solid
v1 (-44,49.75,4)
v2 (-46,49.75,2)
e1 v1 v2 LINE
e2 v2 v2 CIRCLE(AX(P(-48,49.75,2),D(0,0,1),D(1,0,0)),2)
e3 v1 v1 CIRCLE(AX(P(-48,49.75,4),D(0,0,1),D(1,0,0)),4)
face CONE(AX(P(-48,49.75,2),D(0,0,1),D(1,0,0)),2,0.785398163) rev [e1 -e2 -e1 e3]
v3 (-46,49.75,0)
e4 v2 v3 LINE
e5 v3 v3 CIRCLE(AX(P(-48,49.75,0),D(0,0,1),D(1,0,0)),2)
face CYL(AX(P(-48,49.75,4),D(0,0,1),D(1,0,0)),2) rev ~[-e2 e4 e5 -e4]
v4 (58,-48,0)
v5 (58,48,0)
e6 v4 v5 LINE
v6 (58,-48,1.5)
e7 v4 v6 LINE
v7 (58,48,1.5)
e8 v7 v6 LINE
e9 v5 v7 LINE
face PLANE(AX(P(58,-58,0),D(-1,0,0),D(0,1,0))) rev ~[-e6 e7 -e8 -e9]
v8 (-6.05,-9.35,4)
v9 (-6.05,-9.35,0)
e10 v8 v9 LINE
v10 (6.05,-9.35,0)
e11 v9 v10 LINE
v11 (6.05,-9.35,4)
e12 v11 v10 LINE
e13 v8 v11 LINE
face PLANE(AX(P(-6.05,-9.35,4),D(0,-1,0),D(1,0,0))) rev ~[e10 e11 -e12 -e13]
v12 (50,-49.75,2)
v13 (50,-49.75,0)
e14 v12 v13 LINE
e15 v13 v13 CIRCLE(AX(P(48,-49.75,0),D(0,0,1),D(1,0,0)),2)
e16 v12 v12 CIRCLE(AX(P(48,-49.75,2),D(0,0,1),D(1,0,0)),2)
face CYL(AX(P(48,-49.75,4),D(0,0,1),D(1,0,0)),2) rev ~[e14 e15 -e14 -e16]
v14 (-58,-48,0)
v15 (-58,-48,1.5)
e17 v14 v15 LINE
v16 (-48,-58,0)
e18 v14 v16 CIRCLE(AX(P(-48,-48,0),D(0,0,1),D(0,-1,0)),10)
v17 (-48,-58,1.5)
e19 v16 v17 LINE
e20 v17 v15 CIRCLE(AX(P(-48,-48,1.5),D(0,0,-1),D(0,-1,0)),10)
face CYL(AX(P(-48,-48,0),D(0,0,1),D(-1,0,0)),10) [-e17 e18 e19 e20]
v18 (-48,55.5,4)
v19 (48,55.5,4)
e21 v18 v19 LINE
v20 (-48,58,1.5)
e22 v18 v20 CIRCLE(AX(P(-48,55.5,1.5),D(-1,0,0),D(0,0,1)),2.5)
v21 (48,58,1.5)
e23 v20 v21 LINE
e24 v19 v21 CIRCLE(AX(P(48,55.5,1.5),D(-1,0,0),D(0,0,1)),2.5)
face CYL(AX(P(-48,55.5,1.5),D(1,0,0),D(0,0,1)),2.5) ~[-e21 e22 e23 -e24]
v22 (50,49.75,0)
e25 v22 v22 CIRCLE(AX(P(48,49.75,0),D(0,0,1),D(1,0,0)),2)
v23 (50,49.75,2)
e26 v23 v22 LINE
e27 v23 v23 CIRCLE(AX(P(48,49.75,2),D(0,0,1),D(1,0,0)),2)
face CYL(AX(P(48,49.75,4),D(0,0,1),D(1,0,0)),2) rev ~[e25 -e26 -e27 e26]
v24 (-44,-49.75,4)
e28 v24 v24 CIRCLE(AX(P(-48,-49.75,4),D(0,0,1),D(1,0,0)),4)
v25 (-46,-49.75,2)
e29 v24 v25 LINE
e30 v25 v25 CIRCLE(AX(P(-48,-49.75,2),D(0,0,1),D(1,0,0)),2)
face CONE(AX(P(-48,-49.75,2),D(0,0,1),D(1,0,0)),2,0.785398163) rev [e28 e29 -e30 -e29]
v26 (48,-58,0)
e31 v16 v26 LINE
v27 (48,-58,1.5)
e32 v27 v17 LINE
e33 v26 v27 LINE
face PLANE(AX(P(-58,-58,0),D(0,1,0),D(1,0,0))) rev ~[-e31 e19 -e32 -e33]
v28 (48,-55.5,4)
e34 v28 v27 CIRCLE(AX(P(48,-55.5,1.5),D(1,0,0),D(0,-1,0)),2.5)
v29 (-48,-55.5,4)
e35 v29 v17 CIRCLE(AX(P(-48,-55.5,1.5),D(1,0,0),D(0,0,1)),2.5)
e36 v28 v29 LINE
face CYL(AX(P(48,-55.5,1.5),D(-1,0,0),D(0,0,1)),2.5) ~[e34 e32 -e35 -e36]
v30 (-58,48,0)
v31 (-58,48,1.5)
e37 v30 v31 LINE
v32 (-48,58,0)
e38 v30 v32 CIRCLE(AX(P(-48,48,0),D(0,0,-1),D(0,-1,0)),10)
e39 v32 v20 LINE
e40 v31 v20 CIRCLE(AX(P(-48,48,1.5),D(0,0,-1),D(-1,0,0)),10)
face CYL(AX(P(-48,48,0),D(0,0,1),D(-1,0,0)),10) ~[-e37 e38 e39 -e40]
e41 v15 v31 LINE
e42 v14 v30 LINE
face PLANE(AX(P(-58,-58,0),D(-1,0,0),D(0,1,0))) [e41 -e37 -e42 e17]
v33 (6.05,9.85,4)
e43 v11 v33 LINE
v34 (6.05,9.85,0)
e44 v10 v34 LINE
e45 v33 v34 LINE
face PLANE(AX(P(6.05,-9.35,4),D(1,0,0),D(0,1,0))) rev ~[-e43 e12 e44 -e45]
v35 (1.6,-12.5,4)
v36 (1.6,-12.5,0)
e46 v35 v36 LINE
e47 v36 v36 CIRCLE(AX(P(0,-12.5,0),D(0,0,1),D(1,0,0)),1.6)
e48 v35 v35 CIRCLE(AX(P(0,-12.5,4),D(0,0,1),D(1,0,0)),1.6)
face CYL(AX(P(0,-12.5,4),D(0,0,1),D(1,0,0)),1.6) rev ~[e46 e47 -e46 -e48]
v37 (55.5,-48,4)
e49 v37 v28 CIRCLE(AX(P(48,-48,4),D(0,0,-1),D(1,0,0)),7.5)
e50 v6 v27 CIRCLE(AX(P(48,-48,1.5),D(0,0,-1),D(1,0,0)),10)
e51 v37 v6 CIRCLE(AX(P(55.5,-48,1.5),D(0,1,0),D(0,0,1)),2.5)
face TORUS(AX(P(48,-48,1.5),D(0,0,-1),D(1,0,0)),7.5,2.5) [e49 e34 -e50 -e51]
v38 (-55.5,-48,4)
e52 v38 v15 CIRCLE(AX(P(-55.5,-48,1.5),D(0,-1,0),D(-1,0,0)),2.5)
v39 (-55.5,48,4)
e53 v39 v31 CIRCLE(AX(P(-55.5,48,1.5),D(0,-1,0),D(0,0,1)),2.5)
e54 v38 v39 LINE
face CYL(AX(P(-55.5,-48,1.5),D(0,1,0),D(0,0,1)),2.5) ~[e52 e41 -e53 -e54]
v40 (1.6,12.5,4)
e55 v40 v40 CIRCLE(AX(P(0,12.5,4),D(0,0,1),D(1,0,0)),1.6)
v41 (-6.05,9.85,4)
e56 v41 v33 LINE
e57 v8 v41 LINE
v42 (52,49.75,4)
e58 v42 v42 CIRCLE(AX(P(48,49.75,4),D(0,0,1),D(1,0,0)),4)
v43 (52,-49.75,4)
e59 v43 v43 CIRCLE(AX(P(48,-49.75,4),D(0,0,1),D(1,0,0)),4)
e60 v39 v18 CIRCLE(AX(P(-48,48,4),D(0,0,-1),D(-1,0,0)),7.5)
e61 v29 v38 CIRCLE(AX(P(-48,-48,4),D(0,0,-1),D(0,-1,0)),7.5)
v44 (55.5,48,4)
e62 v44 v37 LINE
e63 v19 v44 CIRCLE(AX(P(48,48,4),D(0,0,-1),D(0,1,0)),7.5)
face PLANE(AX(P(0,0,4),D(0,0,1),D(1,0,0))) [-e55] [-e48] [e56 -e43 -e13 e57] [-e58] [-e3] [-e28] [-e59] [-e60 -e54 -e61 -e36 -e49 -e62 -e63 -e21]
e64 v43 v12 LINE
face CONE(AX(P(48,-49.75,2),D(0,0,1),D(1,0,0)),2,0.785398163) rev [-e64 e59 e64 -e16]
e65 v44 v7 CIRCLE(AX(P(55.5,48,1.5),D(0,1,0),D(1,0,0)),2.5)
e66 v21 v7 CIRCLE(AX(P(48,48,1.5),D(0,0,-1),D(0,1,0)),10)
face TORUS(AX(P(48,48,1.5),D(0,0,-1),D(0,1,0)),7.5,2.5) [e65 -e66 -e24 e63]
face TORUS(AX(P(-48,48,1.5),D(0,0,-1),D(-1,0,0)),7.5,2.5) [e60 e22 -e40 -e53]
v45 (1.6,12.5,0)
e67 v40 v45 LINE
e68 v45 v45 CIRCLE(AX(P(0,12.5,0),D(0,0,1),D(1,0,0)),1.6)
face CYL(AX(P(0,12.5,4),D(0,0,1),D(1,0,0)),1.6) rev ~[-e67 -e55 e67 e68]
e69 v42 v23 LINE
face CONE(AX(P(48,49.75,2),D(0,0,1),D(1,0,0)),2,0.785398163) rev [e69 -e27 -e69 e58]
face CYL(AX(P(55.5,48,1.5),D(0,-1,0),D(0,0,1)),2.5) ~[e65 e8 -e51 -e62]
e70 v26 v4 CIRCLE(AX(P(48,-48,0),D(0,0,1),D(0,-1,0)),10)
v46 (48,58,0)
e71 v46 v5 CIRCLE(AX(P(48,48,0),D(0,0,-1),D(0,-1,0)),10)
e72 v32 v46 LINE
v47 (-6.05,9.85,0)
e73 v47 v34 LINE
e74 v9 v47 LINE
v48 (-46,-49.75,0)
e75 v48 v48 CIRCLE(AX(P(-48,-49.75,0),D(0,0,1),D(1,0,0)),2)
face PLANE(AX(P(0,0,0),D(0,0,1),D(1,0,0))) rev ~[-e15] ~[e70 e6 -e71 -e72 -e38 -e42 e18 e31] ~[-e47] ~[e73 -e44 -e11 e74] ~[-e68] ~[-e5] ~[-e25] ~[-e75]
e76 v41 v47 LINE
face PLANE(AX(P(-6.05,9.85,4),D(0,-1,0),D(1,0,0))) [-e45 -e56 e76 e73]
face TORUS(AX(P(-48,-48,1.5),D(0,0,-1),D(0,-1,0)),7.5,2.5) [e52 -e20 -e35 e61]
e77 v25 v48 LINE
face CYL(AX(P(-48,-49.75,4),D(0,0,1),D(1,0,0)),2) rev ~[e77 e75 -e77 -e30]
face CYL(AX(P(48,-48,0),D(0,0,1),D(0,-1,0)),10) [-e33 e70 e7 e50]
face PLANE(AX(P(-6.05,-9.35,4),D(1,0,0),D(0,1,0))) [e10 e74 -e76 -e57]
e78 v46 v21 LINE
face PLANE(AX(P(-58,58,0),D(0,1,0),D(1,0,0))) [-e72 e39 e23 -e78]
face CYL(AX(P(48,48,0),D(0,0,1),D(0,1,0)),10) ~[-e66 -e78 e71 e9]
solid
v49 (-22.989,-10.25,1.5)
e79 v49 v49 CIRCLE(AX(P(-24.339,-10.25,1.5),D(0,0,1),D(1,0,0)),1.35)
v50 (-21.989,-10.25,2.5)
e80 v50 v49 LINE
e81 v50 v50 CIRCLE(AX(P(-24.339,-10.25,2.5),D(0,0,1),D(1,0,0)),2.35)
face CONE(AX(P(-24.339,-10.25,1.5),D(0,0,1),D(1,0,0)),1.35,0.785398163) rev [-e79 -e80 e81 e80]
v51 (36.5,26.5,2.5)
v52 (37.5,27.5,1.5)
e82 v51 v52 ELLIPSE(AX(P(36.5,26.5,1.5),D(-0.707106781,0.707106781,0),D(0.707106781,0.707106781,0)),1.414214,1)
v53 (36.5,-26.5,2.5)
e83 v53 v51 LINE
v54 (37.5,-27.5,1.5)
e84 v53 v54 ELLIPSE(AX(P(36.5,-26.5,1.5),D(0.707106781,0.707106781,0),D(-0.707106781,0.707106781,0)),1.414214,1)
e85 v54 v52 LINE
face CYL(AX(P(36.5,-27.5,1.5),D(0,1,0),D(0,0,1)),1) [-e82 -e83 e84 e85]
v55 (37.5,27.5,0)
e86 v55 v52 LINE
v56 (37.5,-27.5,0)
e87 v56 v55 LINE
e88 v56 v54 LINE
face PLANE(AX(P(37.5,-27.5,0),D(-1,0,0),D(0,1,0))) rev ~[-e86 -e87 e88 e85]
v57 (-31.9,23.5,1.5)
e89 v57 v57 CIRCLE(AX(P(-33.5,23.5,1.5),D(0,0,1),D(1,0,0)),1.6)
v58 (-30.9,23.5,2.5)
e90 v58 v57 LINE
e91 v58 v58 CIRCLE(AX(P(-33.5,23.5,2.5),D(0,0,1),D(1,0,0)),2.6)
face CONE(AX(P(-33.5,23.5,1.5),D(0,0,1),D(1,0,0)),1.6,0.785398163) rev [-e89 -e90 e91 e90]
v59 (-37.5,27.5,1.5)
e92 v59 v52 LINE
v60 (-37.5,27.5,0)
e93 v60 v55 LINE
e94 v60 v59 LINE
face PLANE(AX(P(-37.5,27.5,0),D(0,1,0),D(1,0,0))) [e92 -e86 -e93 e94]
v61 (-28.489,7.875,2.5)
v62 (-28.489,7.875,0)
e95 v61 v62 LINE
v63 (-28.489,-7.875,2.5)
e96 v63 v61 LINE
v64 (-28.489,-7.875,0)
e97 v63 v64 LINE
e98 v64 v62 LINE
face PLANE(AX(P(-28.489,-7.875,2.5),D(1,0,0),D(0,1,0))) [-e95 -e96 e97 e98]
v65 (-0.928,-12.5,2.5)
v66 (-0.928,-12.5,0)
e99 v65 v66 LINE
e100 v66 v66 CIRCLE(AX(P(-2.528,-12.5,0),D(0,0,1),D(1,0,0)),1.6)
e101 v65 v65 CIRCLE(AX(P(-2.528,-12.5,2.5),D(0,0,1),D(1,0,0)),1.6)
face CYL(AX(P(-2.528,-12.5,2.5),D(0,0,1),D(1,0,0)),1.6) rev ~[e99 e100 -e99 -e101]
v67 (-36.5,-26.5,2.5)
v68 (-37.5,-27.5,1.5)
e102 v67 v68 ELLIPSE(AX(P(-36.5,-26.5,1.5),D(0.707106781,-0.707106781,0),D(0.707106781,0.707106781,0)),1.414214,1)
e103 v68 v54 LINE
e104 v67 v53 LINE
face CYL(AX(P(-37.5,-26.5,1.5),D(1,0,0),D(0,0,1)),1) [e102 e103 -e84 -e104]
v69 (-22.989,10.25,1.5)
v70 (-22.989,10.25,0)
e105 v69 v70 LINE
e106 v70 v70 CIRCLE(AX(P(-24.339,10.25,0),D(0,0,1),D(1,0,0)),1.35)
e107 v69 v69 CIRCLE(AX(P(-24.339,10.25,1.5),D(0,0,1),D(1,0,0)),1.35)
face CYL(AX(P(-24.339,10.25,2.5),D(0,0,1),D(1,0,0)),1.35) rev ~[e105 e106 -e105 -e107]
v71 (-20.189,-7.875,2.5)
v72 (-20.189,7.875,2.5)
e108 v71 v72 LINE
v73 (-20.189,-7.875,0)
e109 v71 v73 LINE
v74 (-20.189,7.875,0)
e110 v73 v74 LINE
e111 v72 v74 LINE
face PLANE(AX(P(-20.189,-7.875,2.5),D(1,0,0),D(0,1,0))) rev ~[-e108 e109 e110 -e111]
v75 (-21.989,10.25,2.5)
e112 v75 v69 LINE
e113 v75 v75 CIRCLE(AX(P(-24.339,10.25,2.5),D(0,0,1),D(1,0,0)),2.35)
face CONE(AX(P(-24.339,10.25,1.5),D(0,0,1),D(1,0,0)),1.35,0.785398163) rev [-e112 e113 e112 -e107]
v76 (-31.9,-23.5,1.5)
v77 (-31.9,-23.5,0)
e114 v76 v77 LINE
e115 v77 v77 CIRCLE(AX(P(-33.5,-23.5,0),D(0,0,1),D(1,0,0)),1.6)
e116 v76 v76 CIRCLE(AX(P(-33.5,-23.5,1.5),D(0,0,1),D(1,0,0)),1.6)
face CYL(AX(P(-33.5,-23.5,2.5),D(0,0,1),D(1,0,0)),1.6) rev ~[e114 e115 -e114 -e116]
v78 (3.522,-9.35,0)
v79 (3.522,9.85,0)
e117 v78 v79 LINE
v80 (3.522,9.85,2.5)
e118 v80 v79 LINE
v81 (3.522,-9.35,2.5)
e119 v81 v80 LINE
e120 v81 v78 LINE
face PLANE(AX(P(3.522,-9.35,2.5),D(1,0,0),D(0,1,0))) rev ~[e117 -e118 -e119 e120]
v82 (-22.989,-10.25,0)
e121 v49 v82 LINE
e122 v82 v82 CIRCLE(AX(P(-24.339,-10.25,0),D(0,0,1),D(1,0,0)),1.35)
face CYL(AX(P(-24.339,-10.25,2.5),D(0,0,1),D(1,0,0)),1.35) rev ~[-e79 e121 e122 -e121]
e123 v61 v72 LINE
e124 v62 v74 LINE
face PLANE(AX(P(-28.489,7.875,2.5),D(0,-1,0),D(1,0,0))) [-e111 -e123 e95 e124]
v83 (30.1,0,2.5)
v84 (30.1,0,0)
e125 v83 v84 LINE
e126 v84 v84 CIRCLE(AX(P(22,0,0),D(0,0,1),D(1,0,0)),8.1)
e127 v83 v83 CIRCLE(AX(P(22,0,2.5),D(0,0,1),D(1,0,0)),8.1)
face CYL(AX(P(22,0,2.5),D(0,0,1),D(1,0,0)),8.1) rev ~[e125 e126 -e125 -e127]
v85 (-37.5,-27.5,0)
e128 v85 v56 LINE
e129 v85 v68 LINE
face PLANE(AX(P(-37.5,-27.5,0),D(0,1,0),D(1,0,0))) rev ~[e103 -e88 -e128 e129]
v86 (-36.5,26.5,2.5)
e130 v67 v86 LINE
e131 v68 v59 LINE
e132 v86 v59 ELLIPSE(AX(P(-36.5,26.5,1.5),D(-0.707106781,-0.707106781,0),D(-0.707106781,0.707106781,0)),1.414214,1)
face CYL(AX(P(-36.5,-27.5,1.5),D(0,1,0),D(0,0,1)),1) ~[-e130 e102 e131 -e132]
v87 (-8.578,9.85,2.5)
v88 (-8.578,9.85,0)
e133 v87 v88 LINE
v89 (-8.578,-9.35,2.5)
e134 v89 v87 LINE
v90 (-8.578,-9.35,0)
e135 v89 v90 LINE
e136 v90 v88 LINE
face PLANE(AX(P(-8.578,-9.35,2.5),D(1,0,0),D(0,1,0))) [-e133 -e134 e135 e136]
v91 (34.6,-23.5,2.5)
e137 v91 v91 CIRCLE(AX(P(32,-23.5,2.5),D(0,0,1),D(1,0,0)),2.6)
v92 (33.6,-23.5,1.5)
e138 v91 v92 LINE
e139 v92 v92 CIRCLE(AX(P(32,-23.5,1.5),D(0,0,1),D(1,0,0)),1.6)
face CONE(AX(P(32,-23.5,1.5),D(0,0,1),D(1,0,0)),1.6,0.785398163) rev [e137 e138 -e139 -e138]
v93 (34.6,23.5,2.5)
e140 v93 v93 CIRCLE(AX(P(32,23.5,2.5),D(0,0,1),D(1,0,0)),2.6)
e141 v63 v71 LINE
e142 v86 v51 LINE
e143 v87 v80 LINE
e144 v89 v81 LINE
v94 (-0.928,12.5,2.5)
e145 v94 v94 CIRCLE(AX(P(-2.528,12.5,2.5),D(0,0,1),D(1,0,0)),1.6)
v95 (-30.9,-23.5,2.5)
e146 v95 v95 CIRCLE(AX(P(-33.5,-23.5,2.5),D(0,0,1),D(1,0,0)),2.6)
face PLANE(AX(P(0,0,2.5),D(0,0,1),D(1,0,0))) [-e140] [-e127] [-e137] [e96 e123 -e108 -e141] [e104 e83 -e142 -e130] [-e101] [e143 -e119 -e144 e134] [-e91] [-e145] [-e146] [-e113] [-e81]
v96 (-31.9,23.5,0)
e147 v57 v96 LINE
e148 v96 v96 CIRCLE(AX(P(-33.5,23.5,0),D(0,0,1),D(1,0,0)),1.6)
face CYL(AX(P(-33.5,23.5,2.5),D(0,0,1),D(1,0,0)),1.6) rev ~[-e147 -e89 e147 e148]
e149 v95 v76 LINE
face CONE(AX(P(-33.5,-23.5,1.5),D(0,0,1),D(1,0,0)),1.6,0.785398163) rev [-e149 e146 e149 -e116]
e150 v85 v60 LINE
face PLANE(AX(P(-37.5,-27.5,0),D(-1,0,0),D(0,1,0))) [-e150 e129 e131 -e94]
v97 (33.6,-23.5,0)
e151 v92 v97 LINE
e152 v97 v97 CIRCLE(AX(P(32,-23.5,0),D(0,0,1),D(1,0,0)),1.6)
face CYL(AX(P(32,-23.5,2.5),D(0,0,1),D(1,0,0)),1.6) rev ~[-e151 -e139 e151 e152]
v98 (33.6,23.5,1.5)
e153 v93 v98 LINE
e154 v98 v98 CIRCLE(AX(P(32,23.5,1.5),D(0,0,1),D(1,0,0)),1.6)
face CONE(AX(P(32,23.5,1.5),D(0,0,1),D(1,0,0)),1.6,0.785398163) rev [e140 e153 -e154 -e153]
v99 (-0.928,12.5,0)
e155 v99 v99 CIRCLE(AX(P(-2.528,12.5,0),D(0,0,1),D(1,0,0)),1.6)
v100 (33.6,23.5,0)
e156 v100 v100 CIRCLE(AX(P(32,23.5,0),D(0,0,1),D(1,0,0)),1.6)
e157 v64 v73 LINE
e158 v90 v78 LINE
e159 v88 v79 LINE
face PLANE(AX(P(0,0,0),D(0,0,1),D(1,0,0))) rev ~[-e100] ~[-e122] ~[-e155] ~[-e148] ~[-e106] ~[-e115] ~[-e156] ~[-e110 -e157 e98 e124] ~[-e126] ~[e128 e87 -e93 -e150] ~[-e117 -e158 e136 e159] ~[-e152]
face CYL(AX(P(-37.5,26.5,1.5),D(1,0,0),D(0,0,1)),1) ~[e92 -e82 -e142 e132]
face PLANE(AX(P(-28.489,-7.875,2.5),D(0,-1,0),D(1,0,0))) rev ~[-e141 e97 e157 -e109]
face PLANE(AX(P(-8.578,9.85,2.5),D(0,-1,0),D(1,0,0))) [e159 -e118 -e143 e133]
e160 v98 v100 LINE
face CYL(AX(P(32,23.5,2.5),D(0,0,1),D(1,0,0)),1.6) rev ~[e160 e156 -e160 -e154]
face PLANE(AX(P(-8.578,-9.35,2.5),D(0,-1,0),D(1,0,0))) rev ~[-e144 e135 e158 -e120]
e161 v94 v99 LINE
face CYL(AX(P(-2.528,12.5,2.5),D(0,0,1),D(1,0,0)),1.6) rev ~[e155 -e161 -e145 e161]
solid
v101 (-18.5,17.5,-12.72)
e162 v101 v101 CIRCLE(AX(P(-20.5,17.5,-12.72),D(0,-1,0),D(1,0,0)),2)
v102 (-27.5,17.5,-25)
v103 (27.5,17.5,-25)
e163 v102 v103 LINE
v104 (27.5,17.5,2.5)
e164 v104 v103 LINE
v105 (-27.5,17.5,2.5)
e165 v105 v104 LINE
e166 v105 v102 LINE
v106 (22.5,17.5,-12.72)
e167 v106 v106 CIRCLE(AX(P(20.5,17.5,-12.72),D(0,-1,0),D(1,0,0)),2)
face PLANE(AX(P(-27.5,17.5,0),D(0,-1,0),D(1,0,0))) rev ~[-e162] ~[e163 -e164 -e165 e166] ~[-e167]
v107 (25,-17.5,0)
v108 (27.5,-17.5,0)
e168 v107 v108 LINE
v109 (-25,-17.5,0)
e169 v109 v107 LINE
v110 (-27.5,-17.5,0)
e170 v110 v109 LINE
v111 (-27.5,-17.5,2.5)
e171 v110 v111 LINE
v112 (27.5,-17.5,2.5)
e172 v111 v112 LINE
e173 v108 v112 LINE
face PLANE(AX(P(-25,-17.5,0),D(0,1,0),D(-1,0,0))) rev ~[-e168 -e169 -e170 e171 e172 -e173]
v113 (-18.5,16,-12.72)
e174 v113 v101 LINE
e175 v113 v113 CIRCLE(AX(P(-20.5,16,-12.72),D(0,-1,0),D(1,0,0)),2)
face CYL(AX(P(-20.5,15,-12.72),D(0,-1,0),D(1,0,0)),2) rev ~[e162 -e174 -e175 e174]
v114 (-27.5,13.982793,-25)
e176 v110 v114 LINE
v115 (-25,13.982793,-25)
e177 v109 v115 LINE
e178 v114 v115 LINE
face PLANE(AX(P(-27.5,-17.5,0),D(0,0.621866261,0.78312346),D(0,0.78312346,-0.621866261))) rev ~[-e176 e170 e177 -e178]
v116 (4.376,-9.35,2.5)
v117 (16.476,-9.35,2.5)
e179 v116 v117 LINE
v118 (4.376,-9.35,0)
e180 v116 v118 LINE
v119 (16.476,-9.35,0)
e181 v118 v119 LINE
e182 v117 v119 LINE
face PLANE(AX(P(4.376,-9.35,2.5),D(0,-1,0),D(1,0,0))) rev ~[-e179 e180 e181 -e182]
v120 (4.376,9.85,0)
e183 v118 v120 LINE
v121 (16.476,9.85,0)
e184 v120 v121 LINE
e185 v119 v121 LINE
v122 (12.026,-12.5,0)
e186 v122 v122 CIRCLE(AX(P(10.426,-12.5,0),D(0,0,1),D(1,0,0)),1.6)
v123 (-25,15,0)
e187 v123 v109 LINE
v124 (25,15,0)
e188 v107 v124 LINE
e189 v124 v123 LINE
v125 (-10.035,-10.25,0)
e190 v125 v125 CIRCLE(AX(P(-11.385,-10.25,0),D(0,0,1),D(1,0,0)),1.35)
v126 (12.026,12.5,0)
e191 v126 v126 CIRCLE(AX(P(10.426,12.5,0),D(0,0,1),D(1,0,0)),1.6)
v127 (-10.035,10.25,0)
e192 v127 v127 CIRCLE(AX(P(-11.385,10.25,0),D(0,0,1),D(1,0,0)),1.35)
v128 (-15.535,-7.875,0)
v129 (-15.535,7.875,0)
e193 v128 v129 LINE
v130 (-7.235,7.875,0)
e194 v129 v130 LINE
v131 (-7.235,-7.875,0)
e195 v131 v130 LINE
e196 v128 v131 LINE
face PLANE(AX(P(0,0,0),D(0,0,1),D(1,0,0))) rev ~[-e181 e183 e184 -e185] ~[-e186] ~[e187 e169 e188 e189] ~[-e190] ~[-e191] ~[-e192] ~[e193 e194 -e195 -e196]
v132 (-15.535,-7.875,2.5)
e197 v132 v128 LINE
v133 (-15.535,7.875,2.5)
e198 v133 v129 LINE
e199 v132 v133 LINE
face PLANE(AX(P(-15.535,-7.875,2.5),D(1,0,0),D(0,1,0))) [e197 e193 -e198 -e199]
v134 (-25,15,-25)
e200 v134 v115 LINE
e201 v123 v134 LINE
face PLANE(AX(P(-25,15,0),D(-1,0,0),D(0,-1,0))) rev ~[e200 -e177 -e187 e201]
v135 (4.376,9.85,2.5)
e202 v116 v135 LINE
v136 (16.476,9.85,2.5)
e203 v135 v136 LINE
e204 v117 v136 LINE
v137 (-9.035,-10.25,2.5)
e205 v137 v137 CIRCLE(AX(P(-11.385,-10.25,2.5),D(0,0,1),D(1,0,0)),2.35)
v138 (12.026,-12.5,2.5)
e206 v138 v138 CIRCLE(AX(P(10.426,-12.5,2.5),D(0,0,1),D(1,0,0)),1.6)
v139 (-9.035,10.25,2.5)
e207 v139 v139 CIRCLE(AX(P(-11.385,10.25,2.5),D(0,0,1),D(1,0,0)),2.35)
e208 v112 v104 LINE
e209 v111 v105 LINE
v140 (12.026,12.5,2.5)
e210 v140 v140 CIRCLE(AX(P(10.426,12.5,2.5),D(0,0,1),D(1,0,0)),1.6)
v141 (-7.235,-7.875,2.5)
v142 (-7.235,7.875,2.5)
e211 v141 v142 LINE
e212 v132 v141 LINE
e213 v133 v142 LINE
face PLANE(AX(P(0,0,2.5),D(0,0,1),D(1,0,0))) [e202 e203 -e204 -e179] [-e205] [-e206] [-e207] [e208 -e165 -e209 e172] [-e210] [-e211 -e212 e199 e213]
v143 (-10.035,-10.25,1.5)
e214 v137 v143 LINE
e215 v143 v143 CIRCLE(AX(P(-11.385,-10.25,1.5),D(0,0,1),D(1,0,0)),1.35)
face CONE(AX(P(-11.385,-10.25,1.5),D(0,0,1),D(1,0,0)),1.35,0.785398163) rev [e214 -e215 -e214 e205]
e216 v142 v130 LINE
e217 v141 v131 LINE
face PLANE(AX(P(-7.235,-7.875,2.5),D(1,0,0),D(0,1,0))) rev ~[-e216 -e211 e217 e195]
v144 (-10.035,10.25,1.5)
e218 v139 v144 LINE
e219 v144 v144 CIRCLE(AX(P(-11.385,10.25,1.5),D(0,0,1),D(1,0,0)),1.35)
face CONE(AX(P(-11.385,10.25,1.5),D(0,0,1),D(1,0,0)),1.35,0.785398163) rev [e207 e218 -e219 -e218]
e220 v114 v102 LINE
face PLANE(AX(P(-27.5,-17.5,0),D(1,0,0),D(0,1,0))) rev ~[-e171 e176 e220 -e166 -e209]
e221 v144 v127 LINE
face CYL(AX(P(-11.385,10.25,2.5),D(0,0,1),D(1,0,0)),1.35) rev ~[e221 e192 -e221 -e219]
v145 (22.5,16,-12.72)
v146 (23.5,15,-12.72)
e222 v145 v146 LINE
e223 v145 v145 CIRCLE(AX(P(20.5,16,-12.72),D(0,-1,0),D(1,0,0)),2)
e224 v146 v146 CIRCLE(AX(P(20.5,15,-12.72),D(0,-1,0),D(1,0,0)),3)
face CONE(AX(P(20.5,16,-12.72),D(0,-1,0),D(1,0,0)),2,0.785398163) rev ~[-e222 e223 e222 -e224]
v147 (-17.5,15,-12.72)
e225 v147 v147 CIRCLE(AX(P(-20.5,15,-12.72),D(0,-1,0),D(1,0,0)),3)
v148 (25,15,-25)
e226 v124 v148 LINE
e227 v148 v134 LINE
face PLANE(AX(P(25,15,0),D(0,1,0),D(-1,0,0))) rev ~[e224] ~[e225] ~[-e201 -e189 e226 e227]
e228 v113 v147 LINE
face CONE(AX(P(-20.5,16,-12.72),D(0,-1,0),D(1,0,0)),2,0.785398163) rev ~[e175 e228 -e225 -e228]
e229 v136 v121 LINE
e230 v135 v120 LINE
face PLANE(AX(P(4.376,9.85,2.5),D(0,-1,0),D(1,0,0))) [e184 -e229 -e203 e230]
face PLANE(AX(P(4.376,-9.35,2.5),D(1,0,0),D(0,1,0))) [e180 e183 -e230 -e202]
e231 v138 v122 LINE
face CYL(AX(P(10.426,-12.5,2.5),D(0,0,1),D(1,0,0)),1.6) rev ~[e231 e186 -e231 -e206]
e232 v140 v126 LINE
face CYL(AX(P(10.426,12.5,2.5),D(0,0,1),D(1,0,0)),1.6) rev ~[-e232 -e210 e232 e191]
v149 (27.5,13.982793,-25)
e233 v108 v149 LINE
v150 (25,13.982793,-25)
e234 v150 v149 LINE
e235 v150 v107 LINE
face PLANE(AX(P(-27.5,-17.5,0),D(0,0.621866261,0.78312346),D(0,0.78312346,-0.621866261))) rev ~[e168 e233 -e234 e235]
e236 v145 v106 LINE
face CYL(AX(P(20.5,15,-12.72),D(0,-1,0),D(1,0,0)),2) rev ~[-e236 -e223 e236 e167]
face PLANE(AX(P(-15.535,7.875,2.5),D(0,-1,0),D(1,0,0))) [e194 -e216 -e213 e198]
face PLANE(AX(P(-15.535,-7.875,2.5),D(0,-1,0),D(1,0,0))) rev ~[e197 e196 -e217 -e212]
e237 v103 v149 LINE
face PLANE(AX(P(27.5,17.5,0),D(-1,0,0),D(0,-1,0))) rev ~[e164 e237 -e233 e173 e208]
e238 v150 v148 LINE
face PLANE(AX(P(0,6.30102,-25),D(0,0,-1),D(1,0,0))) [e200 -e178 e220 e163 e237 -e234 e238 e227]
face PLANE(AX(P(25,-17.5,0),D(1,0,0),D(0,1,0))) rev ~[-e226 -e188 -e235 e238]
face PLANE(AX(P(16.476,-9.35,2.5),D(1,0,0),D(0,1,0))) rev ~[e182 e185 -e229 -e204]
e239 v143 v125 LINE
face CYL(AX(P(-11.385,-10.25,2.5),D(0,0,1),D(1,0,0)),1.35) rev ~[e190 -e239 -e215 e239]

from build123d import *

# Parameters (mm, degrees)
SKETCH_W        = 75
SKETCH_H        = 55
PAD_DEPTH       = 2.5
SKETCH001_R     = 8.1
SKETCH001_R_2   = 1.6
SKETCH001_R_3   = 1.35
SKETCH001_W     = 12.1
SKETCH001_H     = 19.2
SKETCH001_W_2   = 8.3
SKETCH001_H_2   = 15.75
POCKET_DEPTH    = 2.501
CHAMFER_SIZE    = 1
FILLET_R        = 1
SKETCH003_W     = 55
SKETCH003_H     = 35
PAD001_DEPTH    = 2.5
SKETCH002_R     = 1.6
SKETCH002_R_2   = 1.35
SKETCH002_W     = 12.1
SKETCH002_H     = 19.2
SKETCH002_W_2   = 8.3
SKETCH002_H_2   = 15.75
POCKET001_DEPTH = 2.501
CHAMFER001_SIZE = 1
PAD002_DEPTH    = 25
POCKET002_DEPTH = 55.001
SKETCH006_R     = 2
POCKET003_DEPTH = 2.501
CHAMFER002_SIZE = 1
SKETCH007_W     = 116
SKETCH007_H     = 116
PAD003_DEPTH    = 4
SKETCH008_R     = 1.6
SKETCH008_R_2   = 2
SKETCH008_W     = 12.1
SKETCH008_H     = 19.2
POCKET004_DEPTH = 4.001
FILLET001_R     = 10
CHAMFER003_SIZE = 2
FILLET002_R     = 2.5


with BuildPart() as body:
    # Sketch → Pad (new body)
    with BuildSketch(Plane.XY):
        Rectangle(SKETCH_W, SKETCH_H)
    extrude(amount=PAD_DEPTH)

    # Sketch001 (on Face6 of Pad) → Pocket (cut, through all)
    with BuildSketch(Plane.XY.offset(2.5)):
        with Locations((22, 0)):
            Circle(SKETCH001_R)
        with Locations((-2.528, 12.5)):
            Circle(SKETCH001_R_2)
        with Locations((-2.528, -12.5)):
            Circle(SKETCH001_R_2)
        with Locations((-24.339, 10.25)):
            Circle(SKETCH001_R_3)
        with Locations((-24.339, -10.25)):
            Circle(SKETCH001_R_3)
        with Locations((-33.5, 23.5)):
            Circle(SKETCH001_R_2)
        with Locations((-33.5, -23.5)):
            Circle(SKETCH001_R_2)
        with Locations((32, 23.5)):
            Circle(SKETCH001_R_2)
        with Locations((32, -23.5)):
            Circle(SKETCH001_R_2)
        with Locations((-2.528, 0.25)):
            Rectangle(SKETCH001_W, SKETCH001_H)
        with Locations((-24.339, 0)):
            Rectangle(SKETCH001_W_2, SKETCH001_H_2)
    extrude(amount=-POCKET_DEPTH, mode=Mode.SUBTRACT)

    # Chamfer
    chamfer_edges = [body.edges().sort_by_distance(p)[0] for p in [
        (-35.1, 23.5, 2.5),
        (30.4, 23.5, 2.5),
        (-35.1, -23.5, 2.5),
        (30.4, -23.5, 2.5),
        (-25.689, 10.25, 2.5),
        (-25.689, -10.25, 2.5),
    ]]
    chamfer(chamfer_edges, length=CHAMFER_SIZE)

    # Fillet
    fillet_edges = [body.edges().sort_by_distance(p)[0] for p in [
        (-37.5, 0, 2.5),
        (0, 27.5, 2.5),
        (37.5, 0, 2.5),
        (0, -27.5, 2.5),
    ]]
    fillet(fillet_edges, radius=FILLET_R)


with BuildPart() as body001:
    # Sketch003 → Pad001 (new body)
    with BuildSketch(Plane.XY):
        Rectangle(SKETCH003_W, SKETCH003_H)
    extrude(amount=PAD001_DEPTH)

    # Sketch002 (on Face6 of Pad001) → Pocket001 (cut, through all)
    with BuildSketch(Plane.XY.offset(2.5)):
        with Locations((10.426, 12.5)):
            Circle(SKETCH002_R)
        with Locations((10.426, -12.5)):
            Circle(SKETCH002_R)
        with Locations((-11.385, 10.25)):
            Circle(SKETCH002_R_2)
        with Locations((-11.385, -10.25)):
            Circle(SKETCH002_R_2)
        with Locations((10.426, 0.25)):
            Rectangle(SKETCH002_W, SKETCH002_H)
        with Locations((-11.385, 0)):
            Rectangle(SKETCH002_W_2, SKETCH002_H_2)
    extrude(amount=-POCKET001_DEPTH, mode=Mode.SUBTRACT)

    # Chamfer001
    chamfer001_edges = [body001.edges().sort_by_distance(p)[0] for p in [
        (-12.735, 10.25, 2.5),
        (-12.735, -10.25, 2.5),
    ]]
    chamfer(chamfer001_edges, length=CHAMFER001_SIZE)

    # Sketch004 (on Face19 of Chamfer001) → Pad002 (join)
    with BuildSketch(Plane(origin=(0, 0, 0), x_dir=(1, 0, 0), z_dir=(0, 0, -1))):
        Polygon((-27.5, 17.5), (-27.5, -17.5), (27.5, -17.5), (27.5, 17.5), (25, 17.5), (25, -15), (-25, -15), (-25, 17.5), align=None)
    extrude(amount=PAD002_DEPTH)

    # Sketch005 (on Face19 of Pad002) → Pocket002 (cut, through all)
    with BuildSketch(Plane(origin=(-27.5, 0, 0), x_dir=(0, -1, 0), z_dir=(-1, 0, 0))):
        Polygon((17.5, 0), (-14.518, -25.425), (18.872, -25.425), (18.872, 0), align=None)
    extrude(amount=-POCKET002_DEPTH, mode=Mode.SUBTRACT)

    # Sketch006 (on Face28 of Pocket002) → Pocket003 (cut, through all)
    with BuildSketch(Plane.XZ.offset(-15)):
        with Locations((-20.5, -12.72)):
            Circle(SKETCH006_R)
        with Locations((20.5, -12.72)):
            Circle(SKETCH006_R)
    extrude(amount=-POCKET003_DEPTH, mode=Mode.SUBTRACT)

    # Chamfer002
    chamfer002_edges = [body001.edges().sort_by_distance(p)[0] for p in [
        (18.5, 15, -12.72),
        (-22.5, 15, -12.72),
    ]]
    chamfer(chamfer002_edges, length=CHAMFER002_SIZE)


with BuildPart() as body002:
    # Sketch007 → Pad003 (new body)
    with BuildSketch(Plane.XY):
        Rectangle(SKETCH007_W, SKETCH007_H)
    extrude(amount=PAD003_DEPTH)

    # Sketch008 (on Face6 of Pad003) → Pocket004 (cut, through all)
    with BuildSketch(Plane.XY.offset(4)):
        with Locations((0, 12.5)):
            Circle(SKETCH008_R)
        with Locations((0, -12.5)):
            Circle(SKETCH008_R)
        with Locations((-48, 49.75)):
            Circle(SKETCH008_R_2)
        with Locations((-48, -49.75)):
            Circle(SKETCH008_R_2)
        with Locations((48, 49.75)):
            Circle(SKETCH008_R_2)
        with Locations((48, -49.75)):
            Circle(SKETCH008_R_2)
        with Locations((0, 0.25)):
            Rectangle(SKETCH008_W, SKETCH008_H)
    extrude(amount=-POCKET004_DEPTH, mode=Mode.SUBTRACT)

    # Fillet001
    fillet001_edges = [body002.edges().sort_by_distance(p)[0] for p in [
        (-58, -58, 2),
        (58, -58, 2),
        (58, 58, 2),
        (-58, 58, 2),
    ]]
    fillet(fillet001_edges, radius=FILLET001_R)

    # Chamfer003
    chamfer003_edges = [body002.edges().sort_by_distance(p)[0] for p in [
        (46, -49.75, 4),
        (46, 49.75, 4),
        (-50, 49.75, 4),
        (-50, -49.75, 4),
    ]]
    chamfer(chamfer003_edges, length=CHAMFER003_SIZE)

    # Fillet002
    fillet002_edges = [body002.edges().sort_by_distance(p)[0] for p in [
        (0, 58, 4),
        (55.071068, 55.071068, 4),
        (58, 0, 4),
        (55.071068, -55.071068, 4),
        (0, -58, 4),
        (-55.071068, -55.071068, 4),
        (-58, 0, 4),
        (-55.071068, 55.071068, 4),
    ]]
    fillet(fillet002_edges, radius=FILLET002_R)


solid = Compound([body.part, body001.part, body002.part])
